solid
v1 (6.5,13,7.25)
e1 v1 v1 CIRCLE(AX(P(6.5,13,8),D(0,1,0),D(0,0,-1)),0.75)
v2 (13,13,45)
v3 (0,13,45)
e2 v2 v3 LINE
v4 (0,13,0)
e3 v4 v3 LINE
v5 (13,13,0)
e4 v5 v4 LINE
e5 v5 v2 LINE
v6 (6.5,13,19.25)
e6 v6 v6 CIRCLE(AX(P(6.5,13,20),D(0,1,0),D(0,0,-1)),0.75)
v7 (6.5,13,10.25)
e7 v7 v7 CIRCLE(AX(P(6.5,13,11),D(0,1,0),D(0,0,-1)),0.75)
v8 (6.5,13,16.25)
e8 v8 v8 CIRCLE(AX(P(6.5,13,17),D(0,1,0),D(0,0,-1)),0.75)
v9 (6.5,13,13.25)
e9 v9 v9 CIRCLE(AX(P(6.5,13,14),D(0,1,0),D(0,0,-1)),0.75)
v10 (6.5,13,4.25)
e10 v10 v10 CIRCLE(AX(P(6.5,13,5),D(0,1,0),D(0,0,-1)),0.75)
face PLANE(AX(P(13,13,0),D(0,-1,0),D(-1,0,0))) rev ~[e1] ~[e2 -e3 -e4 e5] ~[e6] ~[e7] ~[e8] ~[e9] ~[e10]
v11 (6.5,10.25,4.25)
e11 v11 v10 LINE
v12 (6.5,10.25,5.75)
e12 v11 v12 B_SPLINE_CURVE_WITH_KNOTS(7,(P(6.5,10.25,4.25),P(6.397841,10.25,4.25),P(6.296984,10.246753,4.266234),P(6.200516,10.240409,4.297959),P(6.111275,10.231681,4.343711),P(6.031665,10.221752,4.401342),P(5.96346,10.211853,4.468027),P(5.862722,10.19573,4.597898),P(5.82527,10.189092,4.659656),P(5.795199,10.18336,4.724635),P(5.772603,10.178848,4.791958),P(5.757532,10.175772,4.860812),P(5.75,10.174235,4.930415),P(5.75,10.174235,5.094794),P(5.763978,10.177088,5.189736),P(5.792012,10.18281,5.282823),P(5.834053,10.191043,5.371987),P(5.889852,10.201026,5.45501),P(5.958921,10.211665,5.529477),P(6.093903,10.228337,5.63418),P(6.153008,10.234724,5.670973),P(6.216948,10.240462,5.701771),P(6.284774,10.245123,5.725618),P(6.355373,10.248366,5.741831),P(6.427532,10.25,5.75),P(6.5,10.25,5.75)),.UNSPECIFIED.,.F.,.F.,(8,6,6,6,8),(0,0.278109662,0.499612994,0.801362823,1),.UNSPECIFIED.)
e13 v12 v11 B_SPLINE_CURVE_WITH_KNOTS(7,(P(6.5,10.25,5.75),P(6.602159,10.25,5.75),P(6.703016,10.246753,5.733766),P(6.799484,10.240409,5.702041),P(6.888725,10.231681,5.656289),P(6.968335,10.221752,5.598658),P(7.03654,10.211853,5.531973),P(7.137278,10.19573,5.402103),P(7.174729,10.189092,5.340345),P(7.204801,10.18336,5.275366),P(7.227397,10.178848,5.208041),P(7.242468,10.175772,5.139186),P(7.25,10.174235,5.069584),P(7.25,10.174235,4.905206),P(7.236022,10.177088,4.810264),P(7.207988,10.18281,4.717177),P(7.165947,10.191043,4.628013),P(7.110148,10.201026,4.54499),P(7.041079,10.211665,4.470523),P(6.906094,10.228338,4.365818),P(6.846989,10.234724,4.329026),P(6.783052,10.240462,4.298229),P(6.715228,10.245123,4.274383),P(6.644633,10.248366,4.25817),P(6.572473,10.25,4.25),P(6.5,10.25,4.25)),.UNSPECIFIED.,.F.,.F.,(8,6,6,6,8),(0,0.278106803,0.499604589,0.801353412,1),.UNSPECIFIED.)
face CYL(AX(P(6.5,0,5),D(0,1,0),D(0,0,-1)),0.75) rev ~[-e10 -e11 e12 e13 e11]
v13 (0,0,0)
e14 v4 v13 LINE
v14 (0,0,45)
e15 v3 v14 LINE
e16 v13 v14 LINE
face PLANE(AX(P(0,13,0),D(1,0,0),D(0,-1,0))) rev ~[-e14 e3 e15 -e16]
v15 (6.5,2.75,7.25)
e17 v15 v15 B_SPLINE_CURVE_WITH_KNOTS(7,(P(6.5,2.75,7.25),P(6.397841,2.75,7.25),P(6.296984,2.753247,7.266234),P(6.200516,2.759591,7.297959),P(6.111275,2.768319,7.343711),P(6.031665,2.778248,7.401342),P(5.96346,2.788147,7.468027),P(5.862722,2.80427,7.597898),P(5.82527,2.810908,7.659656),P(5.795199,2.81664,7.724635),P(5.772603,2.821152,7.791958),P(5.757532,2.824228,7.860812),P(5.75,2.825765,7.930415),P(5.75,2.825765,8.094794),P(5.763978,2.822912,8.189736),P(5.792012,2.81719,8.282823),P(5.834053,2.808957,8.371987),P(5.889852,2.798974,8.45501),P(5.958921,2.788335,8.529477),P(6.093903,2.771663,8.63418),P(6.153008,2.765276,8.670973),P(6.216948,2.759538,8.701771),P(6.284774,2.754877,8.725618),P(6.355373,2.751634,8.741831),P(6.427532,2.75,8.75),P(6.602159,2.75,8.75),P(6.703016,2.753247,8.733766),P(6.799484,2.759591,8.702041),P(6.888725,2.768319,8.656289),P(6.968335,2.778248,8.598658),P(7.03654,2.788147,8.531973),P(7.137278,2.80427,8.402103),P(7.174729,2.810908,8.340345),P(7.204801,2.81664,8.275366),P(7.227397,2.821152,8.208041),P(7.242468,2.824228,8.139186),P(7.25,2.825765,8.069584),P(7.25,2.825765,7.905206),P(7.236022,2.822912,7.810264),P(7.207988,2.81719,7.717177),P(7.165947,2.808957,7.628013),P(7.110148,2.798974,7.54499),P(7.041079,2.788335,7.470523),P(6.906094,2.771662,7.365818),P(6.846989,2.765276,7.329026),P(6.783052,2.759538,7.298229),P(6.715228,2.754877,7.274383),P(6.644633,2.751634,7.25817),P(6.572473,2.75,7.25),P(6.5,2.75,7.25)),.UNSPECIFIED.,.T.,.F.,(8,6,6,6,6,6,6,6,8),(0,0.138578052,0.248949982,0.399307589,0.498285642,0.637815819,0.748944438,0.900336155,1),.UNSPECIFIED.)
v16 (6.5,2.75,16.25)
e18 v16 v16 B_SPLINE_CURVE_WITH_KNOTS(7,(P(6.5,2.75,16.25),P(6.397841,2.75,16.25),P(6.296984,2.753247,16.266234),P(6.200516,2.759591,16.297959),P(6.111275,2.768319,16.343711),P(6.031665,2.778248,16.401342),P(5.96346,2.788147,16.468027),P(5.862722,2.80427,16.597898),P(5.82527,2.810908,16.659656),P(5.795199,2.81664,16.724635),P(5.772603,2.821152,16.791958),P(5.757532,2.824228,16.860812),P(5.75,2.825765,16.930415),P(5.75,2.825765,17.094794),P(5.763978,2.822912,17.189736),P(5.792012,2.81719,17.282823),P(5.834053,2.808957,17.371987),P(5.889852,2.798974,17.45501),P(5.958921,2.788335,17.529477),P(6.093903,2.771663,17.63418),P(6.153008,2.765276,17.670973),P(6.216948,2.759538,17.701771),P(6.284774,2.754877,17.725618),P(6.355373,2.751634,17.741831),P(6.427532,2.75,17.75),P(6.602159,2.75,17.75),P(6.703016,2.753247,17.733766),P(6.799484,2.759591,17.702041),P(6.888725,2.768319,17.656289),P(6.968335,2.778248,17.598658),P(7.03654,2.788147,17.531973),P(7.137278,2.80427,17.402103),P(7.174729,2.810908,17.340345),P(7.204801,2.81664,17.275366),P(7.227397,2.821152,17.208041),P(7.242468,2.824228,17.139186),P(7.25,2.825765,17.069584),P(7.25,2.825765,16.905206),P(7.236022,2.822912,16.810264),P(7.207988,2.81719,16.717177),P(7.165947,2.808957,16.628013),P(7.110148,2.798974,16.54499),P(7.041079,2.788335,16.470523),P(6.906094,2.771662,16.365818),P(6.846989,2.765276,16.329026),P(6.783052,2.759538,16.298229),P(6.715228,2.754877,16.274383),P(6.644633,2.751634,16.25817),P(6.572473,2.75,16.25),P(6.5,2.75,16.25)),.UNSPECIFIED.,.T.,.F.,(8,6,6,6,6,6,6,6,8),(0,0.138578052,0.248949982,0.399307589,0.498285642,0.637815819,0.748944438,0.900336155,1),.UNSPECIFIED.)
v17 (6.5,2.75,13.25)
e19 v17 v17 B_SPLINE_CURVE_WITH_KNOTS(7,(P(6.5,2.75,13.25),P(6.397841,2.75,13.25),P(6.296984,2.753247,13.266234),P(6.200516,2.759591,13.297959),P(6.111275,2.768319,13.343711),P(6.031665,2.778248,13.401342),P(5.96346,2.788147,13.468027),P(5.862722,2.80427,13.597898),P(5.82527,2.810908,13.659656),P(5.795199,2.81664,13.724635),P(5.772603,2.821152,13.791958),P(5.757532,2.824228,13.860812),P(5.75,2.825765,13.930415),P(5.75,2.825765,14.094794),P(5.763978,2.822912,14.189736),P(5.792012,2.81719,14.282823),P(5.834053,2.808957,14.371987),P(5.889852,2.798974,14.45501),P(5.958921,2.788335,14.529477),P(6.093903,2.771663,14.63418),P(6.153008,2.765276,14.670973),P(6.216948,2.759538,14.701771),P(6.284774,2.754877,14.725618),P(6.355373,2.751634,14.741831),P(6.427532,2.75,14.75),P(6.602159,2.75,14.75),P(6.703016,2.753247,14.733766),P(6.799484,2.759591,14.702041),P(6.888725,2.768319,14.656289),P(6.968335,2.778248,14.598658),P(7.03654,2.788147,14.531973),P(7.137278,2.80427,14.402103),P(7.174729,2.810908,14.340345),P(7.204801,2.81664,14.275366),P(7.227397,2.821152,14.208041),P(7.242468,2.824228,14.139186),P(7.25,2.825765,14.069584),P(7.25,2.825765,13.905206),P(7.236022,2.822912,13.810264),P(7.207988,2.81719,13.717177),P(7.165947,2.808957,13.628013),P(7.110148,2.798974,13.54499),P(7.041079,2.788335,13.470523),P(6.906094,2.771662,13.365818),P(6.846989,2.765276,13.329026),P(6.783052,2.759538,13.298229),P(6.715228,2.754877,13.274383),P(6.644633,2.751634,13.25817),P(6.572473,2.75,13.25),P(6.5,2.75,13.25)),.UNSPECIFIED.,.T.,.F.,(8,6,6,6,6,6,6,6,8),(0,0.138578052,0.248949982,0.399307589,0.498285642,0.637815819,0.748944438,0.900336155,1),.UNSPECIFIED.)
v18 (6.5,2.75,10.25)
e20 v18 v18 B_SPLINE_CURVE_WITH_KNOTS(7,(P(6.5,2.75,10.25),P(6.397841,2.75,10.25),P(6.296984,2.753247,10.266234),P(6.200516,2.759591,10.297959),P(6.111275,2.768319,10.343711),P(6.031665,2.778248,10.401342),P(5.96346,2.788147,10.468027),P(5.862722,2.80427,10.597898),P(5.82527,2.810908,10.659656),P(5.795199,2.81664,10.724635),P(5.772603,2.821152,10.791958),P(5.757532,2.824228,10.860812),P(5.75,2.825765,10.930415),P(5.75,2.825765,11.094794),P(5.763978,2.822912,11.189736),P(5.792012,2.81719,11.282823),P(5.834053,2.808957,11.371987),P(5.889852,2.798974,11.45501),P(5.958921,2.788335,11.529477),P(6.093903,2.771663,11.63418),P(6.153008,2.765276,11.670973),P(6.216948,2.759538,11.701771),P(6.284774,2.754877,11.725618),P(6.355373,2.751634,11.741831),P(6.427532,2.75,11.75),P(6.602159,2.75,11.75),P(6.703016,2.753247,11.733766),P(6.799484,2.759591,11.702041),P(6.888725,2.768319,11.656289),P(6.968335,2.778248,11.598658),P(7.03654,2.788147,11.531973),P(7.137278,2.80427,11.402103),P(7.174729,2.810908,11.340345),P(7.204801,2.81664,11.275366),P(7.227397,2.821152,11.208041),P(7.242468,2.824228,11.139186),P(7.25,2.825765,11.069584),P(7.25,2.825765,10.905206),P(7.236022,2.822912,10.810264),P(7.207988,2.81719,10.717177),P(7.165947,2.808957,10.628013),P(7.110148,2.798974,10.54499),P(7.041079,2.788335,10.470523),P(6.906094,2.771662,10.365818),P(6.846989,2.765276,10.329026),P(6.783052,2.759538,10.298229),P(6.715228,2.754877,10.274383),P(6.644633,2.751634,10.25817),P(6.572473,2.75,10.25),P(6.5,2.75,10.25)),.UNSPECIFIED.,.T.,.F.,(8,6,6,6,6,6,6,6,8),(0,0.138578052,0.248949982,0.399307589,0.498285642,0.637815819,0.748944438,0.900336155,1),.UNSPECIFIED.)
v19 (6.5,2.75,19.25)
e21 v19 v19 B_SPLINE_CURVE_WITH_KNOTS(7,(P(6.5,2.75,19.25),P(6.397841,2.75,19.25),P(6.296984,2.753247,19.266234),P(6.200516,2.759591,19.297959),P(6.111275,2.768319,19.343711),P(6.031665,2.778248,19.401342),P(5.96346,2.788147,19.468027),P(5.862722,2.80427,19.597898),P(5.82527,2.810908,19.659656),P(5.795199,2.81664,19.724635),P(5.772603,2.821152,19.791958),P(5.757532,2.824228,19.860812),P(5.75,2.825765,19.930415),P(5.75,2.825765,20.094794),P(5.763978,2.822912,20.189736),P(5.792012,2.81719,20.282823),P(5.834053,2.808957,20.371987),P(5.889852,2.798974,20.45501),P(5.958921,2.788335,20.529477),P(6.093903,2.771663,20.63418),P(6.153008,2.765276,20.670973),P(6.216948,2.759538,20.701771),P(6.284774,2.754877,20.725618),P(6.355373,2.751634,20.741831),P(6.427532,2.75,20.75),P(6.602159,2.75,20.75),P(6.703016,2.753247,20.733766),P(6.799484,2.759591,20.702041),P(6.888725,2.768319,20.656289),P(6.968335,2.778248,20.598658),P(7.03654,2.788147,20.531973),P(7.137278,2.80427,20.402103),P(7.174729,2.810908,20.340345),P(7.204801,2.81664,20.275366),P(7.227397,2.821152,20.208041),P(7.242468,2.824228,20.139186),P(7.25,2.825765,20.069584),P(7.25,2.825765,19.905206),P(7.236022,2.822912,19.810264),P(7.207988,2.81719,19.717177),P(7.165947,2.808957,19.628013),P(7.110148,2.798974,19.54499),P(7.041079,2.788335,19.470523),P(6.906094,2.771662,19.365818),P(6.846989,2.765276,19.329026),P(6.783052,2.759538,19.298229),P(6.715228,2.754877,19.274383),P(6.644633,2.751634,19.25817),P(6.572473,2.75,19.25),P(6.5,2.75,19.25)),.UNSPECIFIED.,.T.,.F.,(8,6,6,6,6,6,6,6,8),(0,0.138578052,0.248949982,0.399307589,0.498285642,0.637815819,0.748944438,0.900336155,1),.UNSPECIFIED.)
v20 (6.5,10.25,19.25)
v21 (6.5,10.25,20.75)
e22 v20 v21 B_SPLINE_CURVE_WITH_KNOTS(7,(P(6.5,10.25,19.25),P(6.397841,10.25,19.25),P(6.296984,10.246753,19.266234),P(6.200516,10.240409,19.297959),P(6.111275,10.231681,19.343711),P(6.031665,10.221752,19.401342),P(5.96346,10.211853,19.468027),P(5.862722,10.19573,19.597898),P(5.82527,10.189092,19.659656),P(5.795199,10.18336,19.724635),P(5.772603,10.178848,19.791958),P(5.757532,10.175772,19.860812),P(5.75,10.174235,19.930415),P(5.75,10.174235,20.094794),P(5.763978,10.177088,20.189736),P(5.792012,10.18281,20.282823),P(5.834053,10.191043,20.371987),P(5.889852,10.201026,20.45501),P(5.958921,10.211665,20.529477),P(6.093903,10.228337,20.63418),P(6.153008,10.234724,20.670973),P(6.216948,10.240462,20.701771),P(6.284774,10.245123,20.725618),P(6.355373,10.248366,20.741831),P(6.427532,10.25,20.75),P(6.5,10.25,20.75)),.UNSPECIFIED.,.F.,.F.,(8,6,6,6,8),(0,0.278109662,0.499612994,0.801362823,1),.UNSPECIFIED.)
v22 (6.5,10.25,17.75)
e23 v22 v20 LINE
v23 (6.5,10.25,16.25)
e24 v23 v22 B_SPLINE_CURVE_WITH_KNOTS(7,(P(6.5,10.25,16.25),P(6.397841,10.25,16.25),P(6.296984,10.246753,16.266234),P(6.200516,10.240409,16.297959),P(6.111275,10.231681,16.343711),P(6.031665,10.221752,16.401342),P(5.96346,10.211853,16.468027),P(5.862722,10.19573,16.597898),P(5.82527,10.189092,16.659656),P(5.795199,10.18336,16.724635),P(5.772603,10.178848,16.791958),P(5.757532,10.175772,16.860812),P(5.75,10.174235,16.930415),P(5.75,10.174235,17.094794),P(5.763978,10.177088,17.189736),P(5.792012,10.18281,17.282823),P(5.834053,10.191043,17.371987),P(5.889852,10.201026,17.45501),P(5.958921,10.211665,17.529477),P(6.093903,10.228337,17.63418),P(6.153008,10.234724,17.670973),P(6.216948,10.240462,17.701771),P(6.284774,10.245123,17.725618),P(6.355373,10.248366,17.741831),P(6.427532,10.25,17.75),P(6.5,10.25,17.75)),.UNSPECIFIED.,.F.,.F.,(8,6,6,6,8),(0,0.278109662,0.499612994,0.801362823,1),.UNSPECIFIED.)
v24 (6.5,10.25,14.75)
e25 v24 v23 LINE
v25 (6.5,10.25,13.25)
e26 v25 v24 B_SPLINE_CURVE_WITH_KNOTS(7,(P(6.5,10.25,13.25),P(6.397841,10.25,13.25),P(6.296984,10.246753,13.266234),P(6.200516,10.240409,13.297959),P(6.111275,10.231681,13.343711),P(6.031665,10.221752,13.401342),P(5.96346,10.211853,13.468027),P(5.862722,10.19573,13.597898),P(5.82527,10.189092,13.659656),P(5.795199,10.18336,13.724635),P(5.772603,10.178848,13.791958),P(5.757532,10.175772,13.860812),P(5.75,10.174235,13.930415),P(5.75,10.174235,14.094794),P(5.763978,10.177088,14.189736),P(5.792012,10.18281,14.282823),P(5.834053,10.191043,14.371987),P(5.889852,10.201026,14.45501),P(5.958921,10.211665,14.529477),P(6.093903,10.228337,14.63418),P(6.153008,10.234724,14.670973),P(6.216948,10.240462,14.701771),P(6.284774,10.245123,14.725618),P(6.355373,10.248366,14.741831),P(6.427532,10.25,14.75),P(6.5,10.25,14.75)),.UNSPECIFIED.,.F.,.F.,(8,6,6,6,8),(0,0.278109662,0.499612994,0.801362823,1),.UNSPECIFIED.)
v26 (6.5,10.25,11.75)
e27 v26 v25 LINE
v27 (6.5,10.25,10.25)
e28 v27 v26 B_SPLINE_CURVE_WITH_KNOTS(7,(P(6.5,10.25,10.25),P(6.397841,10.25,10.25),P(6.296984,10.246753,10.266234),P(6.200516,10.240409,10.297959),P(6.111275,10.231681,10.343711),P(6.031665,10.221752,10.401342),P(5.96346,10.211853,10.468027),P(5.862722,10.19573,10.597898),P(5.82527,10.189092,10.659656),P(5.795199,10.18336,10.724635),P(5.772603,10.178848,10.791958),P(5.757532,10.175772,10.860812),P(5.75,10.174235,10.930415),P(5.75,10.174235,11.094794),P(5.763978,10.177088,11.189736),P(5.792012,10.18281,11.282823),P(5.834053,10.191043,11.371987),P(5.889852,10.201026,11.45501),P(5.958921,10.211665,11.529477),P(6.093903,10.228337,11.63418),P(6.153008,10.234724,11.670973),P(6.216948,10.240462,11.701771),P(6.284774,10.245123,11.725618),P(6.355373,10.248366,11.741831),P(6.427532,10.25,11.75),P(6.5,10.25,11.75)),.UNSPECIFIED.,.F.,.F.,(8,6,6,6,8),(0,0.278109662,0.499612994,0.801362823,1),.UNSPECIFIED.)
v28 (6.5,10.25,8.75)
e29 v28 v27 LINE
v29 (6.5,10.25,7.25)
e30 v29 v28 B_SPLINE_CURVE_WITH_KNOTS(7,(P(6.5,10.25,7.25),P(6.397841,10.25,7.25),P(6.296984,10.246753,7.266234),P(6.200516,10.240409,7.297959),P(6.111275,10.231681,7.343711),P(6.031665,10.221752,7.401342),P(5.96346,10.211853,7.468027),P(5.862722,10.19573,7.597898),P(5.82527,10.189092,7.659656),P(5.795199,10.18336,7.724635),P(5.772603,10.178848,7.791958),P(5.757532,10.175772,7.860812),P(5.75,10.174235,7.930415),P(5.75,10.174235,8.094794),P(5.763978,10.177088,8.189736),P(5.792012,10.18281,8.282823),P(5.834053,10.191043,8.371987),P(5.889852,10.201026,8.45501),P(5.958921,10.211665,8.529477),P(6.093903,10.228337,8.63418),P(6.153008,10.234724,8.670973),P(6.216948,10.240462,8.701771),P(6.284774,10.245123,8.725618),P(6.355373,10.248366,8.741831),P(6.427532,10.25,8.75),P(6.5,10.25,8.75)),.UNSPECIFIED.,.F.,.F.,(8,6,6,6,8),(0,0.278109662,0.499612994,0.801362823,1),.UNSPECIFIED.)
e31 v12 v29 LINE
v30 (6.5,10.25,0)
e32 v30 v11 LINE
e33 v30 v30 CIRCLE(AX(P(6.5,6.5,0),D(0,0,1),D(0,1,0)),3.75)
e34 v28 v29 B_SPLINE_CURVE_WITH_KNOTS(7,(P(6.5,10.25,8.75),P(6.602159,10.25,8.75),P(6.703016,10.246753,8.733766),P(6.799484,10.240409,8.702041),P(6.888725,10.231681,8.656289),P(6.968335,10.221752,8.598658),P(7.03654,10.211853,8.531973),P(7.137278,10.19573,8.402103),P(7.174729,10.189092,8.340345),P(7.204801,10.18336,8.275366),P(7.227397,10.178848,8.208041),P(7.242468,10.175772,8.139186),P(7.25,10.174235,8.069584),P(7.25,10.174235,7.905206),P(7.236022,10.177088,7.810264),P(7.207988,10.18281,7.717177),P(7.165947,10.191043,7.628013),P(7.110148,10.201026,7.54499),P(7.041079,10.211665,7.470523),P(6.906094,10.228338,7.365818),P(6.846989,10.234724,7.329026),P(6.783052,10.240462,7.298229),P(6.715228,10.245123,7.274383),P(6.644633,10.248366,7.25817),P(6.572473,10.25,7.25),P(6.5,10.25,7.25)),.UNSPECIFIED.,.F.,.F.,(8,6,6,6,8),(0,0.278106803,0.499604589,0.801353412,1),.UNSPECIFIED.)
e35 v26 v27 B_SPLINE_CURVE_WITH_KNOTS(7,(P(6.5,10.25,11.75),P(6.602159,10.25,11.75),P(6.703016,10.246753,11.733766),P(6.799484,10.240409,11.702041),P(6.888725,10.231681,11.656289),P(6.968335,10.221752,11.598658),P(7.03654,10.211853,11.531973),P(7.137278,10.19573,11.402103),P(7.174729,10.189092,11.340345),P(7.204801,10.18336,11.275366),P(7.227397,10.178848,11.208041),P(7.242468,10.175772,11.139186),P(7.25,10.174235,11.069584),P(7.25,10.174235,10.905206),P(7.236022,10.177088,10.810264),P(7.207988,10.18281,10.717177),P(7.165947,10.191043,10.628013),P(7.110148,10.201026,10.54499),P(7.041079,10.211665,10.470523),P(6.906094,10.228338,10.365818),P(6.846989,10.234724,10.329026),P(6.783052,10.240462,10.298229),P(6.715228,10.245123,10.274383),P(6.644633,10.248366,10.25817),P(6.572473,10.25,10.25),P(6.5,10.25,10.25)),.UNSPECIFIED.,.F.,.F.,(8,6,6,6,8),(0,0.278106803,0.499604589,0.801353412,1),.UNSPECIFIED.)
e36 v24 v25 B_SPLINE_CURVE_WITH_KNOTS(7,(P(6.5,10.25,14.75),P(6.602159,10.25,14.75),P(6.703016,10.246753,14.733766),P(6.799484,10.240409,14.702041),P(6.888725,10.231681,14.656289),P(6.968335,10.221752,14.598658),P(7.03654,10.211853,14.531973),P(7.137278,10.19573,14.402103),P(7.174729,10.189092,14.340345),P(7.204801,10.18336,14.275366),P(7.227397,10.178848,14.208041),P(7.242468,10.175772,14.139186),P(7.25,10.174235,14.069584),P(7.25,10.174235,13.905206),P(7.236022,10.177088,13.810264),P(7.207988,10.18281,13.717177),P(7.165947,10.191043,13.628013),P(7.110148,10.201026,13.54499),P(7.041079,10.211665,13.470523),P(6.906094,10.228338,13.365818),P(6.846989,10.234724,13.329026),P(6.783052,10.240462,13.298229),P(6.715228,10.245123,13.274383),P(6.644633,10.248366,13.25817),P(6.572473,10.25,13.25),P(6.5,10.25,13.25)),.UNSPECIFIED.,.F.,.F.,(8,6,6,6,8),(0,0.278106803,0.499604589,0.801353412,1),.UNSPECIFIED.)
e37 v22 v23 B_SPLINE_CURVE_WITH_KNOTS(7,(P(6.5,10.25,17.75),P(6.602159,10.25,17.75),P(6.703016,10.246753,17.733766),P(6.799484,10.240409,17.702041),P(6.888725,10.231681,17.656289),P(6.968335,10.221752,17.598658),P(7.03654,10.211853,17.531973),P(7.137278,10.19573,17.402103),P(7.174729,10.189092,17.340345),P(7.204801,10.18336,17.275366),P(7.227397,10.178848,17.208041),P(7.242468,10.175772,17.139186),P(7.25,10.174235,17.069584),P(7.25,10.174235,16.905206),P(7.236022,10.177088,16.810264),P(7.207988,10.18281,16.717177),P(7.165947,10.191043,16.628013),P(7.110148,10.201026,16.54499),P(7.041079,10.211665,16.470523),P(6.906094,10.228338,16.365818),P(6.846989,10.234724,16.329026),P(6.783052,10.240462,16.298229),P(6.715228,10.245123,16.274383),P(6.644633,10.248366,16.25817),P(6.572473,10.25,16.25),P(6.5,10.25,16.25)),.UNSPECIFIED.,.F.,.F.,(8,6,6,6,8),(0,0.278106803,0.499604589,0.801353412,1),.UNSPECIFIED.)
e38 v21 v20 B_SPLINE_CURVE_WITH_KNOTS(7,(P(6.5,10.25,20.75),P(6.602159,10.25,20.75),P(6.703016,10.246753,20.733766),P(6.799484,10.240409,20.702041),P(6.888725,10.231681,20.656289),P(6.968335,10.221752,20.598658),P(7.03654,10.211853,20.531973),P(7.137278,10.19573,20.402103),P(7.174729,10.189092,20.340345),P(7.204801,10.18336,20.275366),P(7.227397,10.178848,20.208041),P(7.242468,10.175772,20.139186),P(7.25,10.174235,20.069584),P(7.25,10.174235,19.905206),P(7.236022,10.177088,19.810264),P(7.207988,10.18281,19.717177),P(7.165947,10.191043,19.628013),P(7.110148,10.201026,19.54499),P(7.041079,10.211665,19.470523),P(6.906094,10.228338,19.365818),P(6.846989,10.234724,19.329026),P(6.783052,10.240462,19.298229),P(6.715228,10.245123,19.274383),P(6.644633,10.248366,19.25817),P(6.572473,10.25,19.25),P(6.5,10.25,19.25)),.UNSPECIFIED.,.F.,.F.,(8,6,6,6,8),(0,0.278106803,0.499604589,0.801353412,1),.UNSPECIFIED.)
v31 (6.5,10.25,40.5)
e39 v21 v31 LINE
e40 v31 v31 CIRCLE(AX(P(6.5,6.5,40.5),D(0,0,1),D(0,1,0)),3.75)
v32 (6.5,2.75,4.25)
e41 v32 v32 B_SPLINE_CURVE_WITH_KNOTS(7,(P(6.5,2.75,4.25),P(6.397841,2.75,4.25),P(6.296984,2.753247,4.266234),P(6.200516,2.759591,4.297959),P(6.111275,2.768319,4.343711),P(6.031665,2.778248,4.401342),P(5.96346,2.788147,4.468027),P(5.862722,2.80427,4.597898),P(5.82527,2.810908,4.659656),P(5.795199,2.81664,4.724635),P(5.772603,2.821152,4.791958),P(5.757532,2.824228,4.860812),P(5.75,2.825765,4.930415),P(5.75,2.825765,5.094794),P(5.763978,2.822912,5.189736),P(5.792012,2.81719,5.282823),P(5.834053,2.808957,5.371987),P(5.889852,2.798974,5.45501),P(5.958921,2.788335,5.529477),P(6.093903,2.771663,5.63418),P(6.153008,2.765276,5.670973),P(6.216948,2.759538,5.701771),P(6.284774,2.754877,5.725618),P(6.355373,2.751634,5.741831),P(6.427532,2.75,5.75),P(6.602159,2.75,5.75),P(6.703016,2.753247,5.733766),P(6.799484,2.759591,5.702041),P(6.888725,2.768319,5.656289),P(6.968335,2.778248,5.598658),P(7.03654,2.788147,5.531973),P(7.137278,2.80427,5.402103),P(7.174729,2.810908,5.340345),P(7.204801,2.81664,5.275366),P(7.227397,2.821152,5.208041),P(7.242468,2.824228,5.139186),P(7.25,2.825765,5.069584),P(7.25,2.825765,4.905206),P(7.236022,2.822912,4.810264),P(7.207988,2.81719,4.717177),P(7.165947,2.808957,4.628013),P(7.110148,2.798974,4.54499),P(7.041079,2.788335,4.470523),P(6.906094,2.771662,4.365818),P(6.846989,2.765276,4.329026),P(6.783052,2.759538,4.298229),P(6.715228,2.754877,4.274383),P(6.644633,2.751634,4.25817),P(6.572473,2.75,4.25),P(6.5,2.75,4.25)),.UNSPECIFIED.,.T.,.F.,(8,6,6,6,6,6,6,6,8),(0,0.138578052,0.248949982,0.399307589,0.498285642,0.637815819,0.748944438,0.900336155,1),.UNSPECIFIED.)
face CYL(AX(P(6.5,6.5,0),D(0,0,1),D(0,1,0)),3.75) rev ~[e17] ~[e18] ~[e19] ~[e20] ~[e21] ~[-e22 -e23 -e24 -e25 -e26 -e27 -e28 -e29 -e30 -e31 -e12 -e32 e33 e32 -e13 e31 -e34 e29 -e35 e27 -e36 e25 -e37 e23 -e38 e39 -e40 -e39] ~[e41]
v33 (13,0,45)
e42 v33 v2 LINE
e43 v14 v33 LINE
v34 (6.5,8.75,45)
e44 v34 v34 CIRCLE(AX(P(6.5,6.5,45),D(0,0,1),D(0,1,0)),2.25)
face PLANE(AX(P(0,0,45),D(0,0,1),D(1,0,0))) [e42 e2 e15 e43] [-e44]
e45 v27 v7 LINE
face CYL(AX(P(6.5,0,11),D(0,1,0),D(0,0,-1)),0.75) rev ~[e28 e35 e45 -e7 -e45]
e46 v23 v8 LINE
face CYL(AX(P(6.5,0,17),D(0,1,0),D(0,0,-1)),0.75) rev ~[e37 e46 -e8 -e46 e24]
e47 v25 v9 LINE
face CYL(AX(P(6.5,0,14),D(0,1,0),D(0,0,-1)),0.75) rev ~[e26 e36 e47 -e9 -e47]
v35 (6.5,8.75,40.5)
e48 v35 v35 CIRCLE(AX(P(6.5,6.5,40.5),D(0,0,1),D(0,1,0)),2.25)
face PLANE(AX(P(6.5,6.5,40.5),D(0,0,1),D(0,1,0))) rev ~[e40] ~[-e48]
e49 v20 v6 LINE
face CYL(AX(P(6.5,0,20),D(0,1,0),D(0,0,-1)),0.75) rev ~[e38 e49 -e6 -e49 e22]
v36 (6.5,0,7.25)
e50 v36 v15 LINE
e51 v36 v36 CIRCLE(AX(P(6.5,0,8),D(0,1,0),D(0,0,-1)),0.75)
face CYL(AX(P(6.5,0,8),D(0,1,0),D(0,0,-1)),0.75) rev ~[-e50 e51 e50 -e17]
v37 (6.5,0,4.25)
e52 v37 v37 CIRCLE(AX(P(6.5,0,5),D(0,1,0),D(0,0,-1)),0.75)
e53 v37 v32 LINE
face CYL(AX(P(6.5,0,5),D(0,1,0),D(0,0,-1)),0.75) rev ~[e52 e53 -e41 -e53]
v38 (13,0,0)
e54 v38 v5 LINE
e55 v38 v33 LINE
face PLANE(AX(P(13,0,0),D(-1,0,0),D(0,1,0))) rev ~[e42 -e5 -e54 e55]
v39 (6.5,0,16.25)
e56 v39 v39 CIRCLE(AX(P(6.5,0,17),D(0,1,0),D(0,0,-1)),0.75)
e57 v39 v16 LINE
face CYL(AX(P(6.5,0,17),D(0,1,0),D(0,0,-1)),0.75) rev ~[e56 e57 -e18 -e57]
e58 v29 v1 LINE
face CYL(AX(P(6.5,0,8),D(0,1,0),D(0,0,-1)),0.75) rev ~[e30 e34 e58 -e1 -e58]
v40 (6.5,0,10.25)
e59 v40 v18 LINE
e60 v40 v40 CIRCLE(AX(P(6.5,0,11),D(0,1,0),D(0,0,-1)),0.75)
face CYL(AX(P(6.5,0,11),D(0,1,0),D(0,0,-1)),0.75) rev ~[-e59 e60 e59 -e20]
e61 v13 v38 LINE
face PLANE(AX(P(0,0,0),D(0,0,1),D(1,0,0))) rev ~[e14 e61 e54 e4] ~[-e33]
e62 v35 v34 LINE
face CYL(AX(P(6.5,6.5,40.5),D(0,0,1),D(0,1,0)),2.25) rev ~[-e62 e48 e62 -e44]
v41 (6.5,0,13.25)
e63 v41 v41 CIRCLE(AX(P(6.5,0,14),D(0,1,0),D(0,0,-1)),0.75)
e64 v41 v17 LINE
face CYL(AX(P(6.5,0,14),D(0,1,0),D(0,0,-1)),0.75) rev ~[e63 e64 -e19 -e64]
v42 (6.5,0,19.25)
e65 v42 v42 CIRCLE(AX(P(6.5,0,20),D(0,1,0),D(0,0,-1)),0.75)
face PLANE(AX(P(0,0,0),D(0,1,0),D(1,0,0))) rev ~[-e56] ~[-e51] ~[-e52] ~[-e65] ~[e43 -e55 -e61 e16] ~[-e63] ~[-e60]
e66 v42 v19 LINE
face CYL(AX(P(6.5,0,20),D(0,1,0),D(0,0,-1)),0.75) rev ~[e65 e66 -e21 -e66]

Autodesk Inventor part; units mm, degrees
ref_plane "YZ Plane" through (0, 0, 0) normal (1, 0, 0) x (0, 1, 0)
ref_plane "XZ Plane" through (0, 0, 0) normal (0, 1, 0) x (-1, 0, 0)
ref_plane "XY Plane" through (0, 0, 0) normal (0, 0, 1) x (1, 0, 0)
sketch "Sketch1" plane through (0, 0, 0) normal (0, 0, 1) x (1, 0, 0)
  line L0 (0, 0) -> (13, 0)
  line L1 (13, 0) -> (13, 13)
  line L2 (13, 13) -> (0, 13)
  line L3 (0, 13) -> (0, 0)
  dimension "d0" = 13
  dimension "d1" = 13
extrude "Extrusion1" add sketch "Sketch1" along normal blind 45
sketch "Sketch2" plane through (0, 0, 0) normal (0, 0, -1) x (-1, 0, 0)
  circle A0 centre (-6.5, 6.5) radius 3.75
  line L0 (0, 13) -> (0, 0) projected
  line L1 (0, 0) -> (-13, 0) projected
  dimension "d4" = 7.5
  dimension "d5" = 6.5
  dimension "d6" = 6.5
hole "Hole1" at (6.5, 6.5, 0) direction (0, 0, 1) diameter 4.5 end through all counterbore diameter 7.5 counterbore depth 40.5
sketch "Sketch3" plane through (0, 0, 0) normal (0, -1, 0) x (1, 0, 0)
  circle A0 centre (6.5, 5) radius 1
  line L0 (13, 0) -> (13, 45) projected
  line L1 (0, 0) -> (13, 0) projected
  circle A1 centre (6.5, 8) radius 1
  circle A2 centre (6.5, 11) radius 1
  circle A3 centre (6.5, 14) radius 1
  circle A4 centre (6.5, 17) radius 1
  circle A5 centre (6.5, 20) radius 1
  dimension "d14" = 2
  dimension "d15" = 6.5
  dimension "d16" = 5
  dimension "d17" = 2
  dimension "d18" = 3
  dimension "d19" = 6.5
  dimension "d20" = 2
  dimension "d21" = 3
  dimension "d22" = 6.5
  dimension "d23" = 2
  dimension "d24" = 3
  dimension "d25" = 6.5
  dimension "d26" = 2
  dimension "d27" = 3
  dimension "d28" = 2
  dimension "d29" = 3
  dimension "d30" = 6.5
hole "Hole2" at (6.5, 0, 5) at (6.5, 0, 8) at (6.5, 0, 11) at (6.5, 0, 14) at (6.5, 0, 17) at (6.5, 0, 20) direction (0, 1, 0) diameter 1.5 end through all
equation "\"d12\" = Thickness"
equation "\"d36\" = Thickness"
equation "\"BendRadius\" = Thickness"
equation "\"BendReliefWidth\" = Thickness"
equation "\"BendReliefDepth\" = 0.5 * Thickness"
equation "\"CornerReliefSize\" = 4 * Thickness"
equation "\"MinimumRemnant\" = 2 * Thickness"
equation "\"TransitionRadius\" = BendRadius"
equation "\"JacobiRadiusSize\" = BendRadius"
equation "\"GapSize\" = Thickness"
equation "\"Thickness\" = 0.5"
properties part number "male_long_part2_9_2018" material "Acetal Resin, Black"
